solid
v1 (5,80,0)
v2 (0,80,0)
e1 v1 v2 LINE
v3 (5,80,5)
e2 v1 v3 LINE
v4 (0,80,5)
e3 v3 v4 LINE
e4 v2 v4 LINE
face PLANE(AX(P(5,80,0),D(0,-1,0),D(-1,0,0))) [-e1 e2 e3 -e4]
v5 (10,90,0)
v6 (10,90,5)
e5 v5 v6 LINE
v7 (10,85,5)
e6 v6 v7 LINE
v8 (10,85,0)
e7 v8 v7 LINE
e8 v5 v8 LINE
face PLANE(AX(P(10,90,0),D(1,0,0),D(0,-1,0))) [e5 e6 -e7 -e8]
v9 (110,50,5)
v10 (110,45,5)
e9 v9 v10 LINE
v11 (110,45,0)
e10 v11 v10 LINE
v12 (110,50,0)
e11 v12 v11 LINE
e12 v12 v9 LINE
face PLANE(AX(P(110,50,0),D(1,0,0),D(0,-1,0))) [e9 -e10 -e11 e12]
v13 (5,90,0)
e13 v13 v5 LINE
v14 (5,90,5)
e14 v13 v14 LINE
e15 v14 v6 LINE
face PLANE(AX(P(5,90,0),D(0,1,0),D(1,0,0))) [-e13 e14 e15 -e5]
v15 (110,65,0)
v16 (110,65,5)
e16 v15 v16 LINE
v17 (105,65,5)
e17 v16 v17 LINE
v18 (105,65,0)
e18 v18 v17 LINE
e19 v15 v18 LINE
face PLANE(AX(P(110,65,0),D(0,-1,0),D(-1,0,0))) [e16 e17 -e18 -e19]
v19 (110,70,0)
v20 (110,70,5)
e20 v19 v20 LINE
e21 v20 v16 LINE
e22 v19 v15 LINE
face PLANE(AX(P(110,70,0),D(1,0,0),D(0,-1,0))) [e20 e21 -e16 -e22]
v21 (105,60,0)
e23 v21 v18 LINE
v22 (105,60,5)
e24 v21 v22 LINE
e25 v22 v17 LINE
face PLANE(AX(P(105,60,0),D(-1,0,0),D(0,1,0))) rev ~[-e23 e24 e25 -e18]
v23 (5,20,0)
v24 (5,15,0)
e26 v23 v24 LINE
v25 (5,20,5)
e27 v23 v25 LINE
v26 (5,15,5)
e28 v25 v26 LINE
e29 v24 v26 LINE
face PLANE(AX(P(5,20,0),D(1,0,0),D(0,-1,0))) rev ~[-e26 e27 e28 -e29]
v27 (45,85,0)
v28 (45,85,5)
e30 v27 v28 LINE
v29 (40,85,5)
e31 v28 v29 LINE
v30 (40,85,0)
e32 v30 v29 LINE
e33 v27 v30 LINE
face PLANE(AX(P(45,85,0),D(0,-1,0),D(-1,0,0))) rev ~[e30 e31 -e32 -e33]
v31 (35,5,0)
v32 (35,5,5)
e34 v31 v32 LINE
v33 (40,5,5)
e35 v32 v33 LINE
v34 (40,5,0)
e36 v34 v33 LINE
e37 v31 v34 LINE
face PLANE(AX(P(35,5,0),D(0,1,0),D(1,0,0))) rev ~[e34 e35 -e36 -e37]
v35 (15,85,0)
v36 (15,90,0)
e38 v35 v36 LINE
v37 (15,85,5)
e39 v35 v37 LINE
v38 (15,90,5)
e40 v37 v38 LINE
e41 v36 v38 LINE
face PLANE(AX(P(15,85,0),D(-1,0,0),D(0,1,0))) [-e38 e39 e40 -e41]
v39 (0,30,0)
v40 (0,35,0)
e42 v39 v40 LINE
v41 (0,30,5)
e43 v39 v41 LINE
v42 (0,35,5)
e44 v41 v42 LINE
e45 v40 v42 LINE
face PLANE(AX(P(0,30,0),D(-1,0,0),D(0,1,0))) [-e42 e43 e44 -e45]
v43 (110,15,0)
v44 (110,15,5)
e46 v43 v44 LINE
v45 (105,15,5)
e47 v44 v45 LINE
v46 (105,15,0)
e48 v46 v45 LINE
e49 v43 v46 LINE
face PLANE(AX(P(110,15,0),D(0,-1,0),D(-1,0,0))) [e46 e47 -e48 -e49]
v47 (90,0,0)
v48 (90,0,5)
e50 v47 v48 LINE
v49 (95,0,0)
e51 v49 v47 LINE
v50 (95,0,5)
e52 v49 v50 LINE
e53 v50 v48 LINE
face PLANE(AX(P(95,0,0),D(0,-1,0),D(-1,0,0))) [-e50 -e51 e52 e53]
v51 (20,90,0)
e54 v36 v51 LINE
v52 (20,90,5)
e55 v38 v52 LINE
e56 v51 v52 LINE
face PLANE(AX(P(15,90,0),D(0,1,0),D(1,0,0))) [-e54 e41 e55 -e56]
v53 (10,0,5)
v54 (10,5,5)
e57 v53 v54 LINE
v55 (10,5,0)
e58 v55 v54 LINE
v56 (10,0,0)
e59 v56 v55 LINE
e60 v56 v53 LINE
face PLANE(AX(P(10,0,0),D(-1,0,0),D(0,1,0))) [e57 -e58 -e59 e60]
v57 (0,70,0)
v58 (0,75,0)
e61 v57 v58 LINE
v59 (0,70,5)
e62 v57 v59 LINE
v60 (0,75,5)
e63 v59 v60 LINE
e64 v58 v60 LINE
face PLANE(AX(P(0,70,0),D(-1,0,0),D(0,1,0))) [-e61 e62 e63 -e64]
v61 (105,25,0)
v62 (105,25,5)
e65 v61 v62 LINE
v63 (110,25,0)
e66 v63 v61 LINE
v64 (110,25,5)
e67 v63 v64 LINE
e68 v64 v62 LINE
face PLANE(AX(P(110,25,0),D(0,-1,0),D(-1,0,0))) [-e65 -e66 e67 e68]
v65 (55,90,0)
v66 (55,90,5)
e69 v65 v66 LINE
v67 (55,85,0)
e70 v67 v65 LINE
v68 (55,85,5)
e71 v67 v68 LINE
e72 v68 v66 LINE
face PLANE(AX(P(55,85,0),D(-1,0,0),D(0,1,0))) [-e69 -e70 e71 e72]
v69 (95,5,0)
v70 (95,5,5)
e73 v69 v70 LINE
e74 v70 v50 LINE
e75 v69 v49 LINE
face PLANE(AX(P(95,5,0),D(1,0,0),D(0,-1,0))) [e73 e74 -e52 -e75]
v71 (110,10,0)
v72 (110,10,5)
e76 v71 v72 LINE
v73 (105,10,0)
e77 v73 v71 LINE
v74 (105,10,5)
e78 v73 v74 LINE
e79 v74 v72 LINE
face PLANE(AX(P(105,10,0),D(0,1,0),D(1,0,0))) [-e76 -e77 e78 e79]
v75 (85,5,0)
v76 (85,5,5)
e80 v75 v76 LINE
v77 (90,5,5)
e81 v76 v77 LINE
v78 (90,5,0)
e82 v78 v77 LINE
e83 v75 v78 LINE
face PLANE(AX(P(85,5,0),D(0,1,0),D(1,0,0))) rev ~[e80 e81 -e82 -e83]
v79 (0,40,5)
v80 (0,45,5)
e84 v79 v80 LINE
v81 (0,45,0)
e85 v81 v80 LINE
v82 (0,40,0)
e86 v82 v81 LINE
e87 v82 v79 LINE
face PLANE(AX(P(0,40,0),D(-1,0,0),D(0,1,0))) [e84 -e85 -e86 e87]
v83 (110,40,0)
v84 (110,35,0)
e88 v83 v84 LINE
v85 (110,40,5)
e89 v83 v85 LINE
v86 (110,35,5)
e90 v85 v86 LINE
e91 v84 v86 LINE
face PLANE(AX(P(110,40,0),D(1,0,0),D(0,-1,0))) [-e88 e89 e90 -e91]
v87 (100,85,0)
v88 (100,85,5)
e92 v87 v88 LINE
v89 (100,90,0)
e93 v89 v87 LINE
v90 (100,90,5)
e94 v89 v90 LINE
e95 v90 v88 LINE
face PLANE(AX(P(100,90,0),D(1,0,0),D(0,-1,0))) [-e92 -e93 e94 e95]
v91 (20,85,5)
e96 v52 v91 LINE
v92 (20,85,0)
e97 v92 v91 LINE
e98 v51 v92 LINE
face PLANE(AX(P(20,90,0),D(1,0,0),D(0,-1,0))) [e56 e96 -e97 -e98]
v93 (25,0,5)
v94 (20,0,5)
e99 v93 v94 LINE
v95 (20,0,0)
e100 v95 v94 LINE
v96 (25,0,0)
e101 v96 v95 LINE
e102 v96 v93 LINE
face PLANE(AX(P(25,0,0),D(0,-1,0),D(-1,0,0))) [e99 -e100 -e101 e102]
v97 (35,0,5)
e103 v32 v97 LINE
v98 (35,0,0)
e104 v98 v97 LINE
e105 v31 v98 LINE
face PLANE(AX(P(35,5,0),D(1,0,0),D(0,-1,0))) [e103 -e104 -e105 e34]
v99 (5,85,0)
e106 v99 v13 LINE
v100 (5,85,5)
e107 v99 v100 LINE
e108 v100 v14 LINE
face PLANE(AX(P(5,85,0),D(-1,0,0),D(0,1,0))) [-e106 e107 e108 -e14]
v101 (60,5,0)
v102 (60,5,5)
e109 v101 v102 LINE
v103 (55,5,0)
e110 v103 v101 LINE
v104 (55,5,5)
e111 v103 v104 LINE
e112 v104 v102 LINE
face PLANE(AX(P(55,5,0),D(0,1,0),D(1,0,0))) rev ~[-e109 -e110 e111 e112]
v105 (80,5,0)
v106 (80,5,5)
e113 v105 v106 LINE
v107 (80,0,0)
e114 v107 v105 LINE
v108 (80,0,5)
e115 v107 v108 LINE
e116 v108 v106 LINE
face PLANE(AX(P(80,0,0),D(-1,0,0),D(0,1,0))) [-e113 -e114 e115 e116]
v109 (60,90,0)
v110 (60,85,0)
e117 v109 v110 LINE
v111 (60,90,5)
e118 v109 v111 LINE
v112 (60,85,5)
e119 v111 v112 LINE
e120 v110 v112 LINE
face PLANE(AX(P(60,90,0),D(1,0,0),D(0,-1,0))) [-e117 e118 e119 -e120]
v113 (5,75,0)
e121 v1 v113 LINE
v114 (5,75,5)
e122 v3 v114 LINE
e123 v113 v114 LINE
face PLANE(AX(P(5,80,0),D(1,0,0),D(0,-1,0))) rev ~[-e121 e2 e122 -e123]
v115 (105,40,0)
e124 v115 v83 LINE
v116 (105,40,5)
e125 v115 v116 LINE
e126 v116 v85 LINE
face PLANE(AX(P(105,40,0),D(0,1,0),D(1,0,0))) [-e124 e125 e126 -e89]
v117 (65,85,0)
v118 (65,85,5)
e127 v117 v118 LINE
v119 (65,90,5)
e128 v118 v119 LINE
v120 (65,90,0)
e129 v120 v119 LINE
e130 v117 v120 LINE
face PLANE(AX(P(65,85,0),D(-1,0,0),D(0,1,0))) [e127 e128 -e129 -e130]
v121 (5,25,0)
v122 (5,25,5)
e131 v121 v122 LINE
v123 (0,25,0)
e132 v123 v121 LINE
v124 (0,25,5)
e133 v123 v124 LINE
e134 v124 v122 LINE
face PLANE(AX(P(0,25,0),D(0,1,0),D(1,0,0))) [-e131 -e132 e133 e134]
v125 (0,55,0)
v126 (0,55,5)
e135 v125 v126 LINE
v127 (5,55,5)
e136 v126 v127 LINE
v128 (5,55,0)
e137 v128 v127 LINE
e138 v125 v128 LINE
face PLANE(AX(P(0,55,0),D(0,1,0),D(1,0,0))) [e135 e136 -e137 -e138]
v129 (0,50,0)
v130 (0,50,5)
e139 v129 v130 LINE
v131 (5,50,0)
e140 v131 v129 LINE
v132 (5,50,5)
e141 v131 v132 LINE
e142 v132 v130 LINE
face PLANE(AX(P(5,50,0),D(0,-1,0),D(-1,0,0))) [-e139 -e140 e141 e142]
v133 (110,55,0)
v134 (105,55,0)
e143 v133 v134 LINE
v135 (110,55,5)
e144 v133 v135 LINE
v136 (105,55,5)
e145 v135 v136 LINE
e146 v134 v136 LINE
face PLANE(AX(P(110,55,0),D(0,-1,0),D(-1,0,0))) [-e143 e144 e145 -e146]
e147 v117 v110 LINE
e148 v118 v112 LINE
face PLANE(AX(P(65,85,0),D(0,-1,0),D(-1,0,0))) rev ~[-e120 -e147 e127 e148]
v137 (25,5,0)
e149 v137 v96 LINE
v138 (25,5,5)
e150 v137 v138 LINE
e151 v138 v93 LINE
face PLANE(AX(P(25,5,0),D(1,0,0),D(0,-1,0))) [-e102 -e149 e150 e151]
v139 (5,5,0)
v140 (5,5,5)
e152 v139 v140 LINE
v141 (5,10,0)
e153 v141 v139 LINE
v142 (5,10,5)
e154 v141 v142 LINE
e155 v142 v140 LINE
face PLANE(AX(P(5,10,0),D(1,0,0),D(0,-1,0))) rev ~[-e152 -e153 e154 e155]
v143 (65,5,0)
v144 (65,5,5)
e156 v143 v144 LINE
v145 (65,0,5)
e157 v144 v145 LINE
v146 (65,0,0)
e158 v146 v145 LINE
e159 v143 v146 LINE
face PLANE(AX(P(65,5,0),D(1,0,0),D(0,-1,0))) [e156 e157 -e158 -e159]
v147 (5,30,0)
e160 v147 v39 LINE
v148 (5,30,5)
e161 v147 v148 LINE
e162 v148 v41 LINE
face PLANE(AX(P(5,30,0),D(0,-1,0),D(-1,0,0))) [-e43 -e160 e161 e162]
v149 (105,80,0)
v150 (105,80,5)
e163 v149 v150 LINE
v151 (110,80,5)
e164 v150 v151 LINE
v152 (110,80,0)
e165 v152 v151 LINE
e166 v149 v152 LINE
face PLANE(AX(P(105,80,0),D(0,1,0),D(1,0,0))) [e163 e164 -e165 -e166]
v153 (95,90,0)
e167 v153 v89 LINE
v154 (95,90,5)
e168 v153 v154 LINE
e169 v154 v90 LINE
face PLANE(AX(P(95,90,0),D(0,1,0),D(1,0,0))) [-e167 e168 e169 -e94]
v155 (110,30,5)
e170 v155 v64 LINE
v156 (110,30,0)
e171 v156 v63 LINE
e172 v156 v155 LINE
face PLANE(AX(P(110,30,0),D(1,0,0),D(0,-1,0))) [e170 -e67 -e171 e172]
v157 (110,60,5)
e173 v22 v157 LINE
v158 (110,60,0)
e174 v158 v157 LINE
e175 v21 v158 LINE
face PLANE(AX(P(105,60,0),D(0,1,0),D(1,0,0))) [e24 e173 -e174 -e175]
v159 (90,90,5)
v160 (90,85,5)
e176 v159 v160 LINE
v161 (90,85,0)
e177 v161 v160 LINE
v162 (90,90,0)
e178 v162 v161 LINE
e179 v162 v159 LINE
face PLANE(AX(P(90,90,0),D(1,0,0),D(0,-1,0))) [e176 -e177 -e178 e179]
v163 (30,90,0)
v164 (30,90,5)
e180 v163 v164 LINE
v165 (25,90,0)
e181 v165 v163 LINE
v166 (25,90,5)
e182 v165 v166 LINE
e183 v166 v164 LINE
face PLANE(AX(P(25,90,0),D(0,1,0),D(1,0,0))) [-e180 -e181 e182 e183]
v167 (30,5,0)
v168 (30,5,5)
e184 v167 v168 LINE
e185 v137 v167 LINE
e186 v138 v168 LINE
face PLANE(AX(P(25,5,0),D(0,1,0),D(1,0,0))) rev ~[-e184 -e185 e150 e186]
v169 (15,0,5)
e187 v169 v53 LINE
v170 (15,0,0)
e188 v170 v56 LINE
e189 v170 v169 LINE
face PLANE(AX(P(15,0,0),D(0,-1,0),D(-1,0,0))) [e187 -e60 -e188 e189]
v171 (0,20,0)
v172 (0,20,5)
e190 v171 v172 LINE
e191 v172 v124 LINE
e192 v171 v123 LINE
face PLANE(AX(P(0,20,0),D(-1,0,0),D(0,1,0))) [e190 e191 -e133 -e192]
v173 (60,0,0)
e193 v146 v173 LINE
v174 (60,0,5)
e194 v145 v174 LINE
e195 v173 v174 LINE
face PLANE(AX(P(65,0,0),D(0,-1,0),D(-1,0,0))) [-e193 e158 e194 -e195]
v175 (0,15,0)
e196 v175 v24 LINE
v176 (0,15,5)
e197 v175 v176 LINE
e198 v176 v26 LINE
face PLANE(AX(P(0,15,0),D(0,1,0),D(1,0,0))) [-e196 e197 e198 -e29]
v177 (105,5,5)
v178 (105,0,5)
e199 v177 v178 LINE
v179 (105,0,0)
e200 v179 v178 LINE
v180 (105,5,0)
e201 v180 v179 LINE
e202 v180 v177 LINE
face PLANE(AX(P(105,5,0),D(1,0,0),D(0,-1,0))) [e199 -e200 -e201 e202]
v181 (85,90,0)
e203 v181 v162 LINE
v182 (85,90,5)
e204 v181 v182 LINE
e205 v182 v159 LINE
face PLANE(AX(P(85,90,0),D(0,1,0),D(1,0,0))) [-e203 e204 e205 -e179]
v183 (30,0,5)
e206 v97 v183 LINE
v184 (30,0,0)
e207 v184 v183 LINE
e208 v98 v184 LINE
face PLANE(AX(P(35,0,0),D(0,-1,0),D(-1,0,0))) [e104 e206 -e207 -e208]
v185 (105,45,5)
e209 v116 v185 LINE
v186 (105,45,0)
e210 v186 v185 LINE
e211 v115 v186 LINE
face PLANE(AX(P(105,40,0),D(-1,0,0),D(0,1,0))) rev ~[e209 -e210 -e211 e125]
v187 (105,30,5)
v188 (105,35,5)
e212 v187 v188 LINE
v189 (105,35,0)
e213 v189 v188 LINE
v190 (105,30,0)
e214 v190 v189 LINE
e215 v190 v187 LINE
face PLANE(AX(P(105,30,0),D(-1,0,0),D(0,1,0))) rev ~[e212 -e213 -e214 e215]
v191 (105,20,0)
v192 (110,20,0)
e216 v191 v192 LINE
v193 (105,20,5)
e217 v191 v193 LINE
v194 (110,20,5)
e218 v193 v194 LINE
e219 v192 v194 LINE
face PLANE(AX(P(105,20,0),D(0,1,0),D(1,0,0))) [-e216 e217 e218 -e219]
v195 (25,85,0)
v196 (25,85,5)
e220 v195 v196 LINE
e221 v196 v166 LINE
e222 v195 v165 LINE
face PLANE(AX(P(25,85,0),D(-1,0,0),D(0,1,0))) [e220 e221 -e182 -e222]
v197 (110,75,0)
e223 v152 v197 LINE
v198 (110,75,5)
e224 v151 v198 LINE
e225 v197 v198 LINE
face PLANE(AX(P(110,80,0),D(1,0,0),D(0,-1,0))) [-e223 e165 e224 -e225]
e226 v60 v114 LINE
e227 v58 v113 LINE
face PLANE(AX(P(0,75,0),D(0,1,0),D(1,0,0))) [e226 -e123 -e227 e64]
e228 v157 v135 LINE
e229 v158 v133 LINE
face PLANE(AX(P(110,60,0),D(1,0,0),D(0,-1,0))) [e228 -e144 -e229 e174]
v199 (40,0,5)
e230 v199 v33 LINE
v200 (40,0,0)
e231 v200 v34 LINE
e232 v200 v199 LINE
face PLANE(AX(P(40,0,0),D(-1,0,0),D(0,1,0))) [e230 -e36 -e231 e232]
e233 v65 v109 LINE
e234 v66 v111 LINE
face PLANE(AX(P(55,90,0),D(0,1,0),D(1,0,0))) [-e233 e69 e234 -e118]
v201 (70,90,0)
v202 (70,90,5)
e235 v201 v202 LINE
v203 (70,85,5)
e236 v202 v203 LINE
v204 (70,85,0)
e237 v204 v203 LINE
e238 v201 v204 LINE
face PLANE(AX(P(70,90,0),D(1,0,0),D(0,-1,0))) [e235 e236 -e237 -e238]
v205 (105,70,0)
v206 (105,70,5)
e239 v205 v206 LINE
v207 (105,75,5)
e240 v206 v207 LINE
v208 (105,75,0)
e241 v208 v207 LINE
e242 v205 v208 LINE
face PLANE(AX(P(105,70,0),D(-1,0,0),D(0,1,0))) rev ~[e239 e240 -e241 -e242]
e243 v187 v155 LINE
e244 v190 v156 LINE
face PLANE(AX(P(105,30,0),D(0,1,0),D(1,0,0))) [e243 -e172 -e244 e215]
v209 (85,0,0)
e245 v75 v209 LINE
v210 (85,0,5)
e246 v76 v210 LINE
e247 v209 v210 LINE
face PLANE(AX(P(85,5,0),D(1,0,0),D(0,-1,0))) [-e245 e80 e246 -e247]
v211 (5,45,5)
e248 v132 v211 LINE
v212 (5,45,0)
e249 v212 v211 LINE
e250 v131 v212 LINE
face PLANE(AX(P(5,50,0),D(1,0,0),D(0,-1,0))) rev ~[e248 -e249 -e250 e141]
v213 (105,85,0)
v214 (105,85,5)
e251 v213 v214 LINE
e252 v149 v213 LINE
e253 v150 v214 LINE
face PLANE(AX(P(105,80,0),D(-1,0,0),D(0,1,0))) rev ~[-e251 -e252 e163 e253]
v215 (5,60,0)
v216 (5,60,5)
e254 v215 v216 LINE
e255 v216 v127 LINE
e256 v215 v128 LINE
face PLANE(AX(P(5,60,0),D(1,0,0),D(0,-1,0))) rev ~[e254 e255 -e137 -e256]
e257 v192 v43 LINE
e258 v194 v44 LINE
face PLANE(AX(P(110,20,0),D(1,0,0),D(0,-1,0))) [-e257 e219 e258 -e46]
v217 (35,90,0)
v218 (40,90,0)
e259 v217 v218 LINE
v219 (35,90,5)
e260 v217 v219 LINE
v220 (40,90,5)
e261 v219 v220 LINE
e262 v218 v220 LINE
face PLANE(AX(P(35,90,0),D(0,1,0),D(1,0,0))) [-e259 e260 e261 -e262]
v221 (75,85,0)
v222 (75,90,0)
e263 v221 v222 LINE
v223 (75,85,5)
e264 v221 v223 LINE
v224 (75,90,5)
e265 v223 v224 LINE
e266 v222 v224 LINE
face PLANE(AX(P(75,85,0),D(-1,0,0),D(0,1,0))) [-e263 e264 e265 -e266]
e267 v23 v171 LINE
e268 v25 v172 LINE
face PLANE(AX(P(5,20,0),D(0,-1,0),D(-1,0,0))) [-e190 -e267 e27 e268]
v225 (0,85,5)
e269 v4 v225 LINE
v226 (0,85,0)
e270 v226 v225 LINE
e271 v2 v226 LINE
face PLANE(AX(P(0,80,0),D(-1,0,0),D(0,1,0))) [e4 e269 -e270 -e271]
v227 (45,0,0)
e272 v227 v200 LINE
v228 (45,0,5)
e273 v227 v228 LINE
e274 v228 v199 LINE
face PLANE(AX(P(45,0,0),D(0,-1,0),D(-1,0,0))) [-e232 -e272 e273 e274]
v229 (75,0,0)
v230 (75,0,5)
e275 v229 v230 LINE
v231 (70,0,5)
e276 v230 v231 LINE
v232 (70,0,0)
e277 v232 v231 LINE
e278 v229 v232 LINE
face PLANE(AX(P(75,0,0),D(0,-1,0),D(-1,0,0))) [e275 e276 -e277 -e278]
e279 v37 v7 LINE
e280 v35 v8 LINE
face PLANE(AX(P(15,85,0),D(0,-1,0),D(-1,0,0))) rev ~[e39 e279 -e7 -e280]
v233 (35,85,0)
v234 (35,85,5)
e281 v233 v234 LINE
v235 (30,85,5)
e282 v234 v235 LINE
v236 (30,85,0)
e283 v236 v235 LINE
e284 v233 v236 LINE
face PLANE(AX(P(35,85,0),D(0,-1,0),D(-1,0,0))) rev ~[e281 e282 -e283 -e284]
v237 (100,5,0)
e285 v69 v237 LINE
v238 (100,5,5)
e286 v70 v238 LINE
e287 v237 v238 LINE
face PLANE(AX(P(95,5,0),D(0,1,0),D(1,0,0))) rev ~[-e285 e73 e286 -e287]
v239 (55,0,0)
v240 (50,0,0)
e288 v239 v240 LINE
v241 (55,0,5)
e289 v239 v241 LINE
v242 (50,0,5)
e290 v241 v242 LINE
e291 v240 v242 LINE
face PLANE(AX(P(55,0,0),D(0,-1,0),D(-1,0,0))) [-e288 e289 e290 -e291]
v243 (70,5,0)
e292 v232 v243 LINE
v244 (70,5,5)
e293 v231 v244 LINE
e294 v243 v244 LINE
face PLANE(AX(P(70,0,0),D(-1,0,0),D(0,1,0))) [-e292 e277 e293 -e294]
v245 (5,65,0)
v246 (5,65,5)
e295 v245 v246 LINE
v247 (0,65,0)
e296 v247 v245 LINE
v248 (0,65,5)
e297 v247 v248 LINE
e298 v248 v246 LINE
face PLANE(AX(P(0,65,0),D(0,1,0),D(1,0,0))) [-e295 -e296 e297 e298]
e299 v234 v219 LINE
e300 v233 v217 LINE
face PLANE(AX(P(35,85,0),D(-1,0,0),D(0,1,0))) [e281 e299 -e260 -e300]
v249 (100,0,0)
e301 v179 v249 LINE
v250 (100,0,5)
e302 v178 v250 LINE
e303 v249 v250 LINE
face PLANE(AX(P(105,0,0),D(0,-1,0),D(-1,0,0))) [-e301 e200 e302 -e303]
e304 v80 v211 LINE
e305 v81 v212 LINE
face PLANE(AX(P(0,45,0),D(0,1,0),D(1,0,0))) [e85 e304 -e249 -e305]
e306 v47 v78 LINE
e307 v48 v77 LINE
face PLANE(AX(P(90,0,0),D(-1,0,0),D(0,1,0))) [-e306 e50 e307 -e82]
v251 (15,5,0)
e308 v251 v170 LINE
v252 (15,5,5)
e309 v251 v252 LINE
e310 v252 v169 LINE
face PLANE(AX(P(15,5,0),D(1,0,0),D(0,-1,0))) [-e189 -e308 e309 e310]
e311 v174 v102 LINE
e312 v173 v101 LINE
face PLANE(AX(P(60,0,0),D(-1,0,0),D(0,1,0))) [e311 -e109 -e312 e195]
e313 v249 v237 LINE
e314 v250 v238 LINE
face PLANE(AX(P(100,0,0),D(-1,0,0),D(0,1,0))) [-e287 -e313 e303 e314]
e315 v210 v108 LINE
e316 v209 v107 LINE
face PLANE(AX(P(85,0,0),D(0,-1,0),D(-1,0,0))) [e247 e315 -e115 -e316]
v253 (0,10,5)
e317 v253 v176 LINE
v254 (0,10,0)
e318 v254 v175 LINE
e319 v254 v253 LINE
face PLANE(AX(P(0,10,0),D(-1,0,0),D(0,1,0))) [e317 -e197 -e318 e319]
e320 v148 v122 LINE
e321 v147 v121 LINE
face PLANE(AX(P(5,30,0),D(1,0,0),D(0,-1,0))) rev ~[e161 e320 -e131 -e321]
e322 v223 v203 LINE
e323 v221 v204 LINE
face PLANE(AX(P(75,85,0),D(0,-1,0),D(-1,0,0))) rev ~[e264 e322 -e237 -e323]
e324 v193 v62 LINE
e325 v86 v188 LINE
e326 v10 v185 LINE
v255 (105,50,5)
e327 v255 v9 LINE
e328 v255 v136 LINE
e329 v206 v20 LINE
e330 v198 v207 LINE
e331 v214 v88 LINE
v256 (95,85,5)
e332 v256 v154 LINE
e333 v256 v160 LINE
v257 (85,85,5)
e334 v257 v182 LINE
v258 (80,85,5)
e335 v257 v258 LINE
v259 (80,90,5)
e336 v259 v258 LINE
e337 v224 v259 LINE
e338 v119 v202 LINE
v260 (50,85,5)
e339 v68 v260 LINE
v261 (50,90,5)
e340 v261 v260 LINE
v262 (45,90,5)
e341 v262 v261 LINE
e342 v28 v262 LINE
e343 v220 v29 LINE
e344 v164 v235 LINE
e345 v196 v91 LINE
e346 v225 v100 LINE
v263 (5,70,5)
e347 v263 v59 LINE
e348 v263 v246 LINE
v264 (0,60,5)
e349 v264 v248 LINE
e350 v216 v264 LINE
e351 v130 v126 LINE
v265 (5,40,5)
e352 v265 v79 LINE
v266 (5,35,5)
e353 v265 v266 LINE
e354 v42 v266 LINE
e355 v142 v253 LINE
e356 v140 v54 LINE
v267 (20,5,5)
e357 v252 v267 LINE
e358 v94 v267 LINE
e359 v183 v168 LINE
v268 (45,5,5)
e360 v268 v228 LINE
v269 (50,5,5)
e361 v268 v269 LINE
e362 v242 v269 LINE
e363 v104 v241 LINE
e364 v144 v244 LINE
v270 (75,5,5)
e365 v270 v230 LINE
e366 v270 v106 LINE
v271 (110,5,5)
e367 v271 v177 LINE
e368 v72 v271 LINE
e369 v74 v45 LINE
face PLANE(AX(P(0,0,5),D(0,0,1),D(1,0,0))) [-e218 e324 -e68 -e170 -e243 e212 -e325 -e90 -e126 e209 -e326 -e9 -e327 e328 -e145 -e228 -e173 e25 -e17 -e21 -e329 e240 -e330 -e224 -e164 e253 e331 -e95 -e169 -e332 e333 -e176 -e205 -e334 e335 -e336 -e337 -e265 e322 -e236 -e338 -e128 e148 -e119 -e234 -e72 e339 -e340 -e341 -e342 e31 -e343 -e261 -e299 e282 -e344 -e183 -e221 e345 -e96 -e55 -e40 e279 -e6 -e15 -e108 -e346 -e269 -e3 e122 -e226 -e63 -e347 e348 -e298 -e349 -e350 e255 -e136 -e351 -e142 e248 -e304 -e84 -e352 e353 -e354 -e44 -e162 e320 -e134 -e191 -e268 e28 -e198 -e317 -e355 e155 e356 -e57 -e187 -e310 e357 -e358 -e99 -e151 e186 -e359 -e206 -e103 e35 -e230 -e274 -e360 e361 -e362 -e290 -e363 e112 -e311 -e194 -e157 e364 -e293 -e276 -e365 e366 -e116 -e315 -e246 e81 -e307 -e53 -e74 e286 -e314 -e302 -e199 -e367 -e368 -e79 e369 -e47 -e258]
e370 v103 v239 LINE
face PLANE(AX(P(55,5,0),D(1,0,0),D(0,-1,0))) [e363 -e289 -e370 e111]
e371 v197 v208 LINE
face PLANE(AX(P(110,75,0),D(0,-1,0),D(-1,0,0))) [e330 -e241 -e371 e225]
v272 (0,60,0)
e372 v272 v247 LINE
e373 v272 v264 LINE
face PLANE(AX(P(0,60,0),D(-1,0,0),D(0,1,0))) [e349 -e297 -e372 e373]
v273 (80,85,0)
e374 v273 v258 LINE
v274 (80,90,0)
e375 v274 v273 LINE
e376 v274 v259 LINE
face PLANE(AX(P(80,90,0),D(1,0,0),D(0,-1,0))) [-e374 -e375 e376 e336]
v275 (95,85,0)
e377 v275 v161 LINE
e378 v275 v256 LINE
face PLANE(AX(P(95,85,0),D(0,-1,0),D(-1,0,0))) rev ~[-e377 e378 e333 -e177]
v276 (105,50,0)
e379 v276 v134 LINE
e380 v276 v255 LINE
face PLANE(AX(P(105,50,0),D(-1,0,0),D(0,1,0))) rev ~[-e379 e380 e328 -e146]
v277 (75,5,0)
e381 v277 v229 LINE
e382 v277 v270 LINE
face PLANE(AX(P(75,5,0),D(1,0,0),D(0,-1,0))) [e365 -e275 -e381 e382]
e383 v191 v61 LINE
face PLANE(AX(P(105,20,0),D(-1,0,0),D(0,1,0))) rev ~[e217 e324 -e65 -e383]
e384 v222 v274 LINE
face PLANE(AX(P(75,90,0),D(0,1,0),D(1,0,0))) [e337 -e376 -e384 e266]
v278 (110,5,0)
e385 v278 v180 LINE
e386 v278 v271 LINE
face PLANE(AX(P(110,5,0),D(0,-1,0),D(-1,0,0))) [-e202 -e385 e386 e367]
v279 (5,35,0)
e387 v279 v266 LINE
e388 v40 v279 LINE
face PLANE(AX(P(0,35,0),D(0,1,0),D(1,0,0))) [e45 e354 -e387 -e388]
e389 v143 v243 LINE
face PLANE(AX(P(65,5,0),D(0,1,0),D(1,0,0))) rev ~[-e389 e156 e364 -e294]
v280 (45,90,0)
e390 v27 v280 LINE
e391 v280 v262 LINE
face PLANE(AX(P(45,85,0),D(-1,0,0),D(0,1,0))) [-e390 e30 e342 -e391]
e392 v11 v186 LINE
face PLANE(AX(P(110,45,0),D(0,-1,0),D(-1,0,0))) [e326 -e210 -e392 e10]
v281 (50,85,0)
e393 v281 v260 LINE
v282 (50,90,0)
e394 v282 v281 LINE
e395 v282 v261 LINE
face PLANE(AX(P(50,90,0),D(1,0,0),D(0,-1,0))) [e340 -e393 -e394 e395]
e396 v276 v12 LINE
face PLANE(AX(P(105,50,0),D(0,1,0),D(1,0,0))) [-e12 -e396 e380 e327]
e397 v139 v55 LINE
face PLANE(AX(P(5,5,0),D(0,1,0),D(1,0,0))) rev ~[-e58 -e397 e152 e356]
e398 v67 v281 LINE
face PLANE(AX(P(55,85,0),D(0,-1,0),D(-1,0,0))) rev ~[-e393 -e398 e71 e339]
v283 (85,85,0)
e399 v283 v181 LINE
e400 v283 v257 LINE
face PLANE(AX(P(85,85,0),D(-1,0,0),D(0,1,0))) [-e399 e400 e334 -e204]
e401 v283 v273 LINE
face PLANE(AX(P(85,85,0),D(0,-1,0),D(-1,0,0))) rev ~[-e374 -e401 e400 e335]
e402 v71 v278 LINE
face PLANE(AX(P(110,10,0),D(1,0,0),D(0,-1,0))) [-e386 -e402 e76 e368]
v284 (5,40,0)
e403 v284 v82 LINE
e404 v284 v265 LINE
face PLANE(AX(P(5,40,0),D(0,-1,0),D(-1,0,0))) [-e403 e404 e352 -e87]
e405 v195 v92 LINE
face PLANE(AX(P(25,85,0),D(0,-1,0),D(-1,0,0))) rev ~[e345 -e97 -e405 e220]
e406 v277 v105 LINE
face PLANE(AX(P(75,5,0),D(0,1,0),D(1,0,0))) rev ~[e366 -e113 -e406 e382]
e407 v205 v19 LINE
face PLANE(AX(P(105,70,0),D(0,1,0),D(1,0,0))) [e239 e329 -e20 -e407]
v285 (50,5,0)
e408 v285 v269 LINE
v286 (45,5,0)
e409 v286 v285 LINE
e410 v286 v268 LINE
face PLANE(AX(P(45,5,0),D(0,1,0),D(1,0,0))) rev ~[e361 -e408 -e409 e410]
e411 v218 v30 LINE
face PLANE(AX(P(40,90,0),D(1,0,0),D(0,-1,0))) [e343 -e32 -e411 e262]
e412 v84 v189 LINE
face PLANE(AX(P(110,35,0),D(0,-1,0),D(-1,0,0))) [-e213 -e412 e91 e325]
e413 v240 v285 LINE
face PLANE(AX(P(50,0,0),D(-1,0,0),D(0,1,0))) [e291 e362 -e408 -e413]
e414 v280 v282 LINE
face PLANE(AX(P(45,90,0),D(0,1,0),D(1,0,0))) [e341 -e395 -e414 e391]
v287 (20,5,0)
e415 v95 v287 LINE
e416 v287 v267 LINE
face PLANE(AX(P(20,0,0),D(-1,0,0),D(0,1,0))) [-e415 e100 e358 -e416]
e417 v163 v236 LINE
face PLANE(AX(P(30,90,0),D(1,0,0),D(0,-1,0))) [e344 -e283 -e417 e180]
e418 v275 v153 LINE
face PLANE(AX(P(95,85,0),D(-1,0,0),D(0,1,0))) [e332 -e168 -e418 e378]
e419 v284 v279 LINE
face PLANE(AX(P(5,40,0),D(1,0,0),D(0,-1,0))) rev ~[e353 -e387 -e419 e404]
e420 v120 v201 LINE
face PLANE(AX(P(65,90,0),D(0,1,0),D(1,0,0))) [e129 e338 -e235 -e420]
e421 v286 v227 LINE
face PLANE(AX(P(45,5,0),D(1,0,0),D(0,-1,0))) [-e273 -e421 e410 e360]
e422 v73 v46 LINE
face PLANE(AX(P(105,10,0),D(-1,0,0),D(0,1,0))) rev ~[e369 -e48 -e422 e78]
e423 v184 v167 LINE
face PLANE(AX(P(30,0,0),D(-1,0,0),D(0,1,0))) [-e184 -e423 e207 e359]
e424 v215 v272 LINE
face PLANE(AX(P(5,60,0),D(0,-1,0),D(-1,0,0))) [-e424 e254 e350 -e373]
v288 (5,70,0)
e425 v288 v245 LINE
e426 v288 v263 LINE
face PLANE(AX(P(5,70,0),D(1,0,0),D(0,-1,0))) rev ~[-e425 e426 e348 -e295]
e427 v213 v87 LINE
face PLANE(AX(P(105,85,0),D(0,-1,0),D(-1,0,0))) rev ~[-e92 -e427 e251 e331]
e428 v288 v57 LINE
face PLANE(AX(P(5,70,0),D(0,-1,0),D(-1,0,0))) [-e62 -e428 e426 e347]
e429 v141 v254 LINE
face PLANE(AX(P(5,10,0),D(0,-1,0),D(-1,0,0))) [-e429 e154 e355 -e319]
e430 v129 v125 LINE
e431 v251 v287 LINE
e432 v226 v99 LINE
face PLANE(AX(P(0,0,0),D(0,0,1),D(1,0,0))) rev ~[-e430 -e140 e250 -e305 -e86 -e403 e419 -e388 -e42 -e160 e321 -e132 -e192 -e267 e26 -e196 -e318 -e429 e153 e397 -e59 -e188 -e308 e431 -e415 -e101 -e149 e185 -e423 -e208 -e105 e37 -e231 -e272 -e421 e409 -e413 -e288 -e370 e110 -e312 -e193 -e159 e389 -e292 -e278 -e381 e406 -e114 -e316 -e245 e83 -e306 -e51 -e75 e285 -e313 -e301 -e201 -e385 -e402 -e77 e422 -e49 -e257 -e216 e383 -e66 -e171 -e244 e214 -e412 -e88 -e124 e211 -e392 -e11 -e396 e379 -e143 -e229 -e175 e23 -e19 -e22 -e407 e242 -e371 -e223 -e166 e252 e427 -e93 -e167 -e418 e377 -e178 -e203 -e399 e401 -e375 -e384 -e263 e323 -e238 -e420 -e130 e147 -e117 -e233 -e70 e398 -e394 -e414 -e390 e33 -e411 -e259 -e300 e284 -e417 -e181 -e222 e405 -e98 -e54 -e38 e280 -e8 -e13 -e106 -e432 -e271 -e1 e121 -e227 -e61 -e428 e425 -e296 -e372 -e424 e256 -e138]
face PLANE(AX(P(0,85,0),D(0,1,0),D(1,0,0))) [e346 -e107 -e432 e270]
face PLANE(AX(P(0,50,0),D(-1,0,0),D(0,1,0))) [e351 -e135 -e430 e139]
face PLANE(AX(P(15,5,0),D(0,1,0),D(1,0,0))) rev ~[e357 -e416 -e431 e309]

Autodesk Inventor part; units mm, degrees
ref_plane "YZ Plane" through (0, 0, 0) normal (1, 0, 0) x (0, 1, 0)
ref_plane "XZ Plane" through (0, 0, 0) normal (0, 1, 0) x (-1, 0, 0)
ref_plane "XY Plane" through (0, 0, 0) normal (0, 0, 1) x (1, 0, 0)
sketch "Sketch1" plane through (0, 0, 0) normal (0, 0, 1) x (1, 0, 0)
  line L0 (5, 5) -> (105, 5)
  line L1 (105, 5) -> (105, 85)
  line L2 (105, 85) -> (5, 85)
  line L3 (5, 85) -> (5, 5)
  line L4 (0, 5) -> (5, 5)
  line L5 (5, 5) -> (5, 0)
  line L6 (5, 0) -> (0, 0)
  line L7 (0, 0) -> (0, 5)
  line L8 (0, 15) -> (5, 15)
  line L9 (5, 15) -> (5, 10)
  line L10 (5, 10) -> (0, 10)
  line L11 (0, 10) -> (0, 15)
  line L12 (0, 25) -> (5, 25)
  line L13 (5, 25) -> (5, 20)
  line L14 (5, 20) -> (0, 20)
  line L15 (0, 20) -> (0, 25)
  line L16 (0, 35) -> (5, 35)
  line L17 (5, 35) -> (5, 30)
  line L18 (5, 30) -> (0, 30)
  line L19 (0, 30) -> (0, 35)
  line L20 (0, 45) -> (5, 45)
  line L21 (5, 45) -> (5, 40)
  line L22 (5, 40) -> (0, 40)
  line L23 (0, 40) -> (0, 45)
  line L24 (0, 55) -> (5, 55)
  line L25 (5, 55) -> (5, 50)
  line L26 (5, 50) -> (0, 50)
  line L27 (0, 50) -> (0, 55)
  line L28 (0, 65) -> (5, 65)
  line L29 (5, 65) -> (5, 60)
  line L30 (5, 60) -> (0, 60)
  line L31 (0, 60) -> (0, 65)
  line L32 (0, 75) -> (5, 75)
  line L33 (5, 75) -> (5, 70)
  line L34 (5, 70) -> (0, 70)
  line L35 (0, 70) -> (0, 75)
  line L36 (0, 85) -> (5, 85)
  line L37 (5, 85) -> (5, 80)
  line L38 (5, 80) -> (0, 80)
  line L39 (0, 80) -> (0, 85)
  line L40 (10, 5) -> (15, 5)
  line L41 (15, 5) -> (15, 0)
  line L42 (15, 0) -> (10, 0)
  line L43 (10, 0) -> (10, 5)
  line L44 (20, 5) -> (25, 5)
  line L45 (25, 5) -> (25, 0)
  line L46 (25, 0) -> (20, 0)
  line L47 (20, 0) -> (20, 5)
  line L48 (30, 5) -> (35, 5)
  line L49 (35, 5) -> (35, 0)
  line L50 (35, 0) -> (30, 0)
  line L51 (30, 0) -> (30, 5)
  line L52 (40, 5) -> (45, 5)
  line L53 (45, 5) -> (45, 0)
  line L54 (45, 0) -> (40, 0)
  line L55 (40, 0) -> (40, 5)
  line L56 (50, 5) -> (55, 5)
  line L57 (55, 5) -> (55, 0)
  line L58 (55, 0) -> (50, 0)
  line L59 (50, 0) -> (50, 5)
  line L60 (60, 5) -> (65, 5)
  line L61 (65, 5) -> (65, 0)
  line L62 (65, 0) -> (60, 0)
  line L63 (60, 0) -> (60, 5)
  line L64 (70, 5) -> (75, 5)
  line L65 (75, 5) -> (75, 0)
  line L66 (75, 0) -> (70, 0)
  line L67 (70, 0) -> (70, 5)
  line L68 (80, 5) -> (85, 5)
  line L69 (85, 5) -> (85, 0)
  line L70 (85, 0) -> (80, 0)
  line L71 (80, 0) -> (80, 5)
  line L72 (90, 5) -> (95, 5)
  line L73 (95, 5) -> (95, 0)
  line L74 (95, 0) -> (90, 0)
  line L75 (90, 0) -> (90, 5)
  line L76 (100, 5) -> (105, 5)
  line L77 (105, 5) -> (105, 0)
  line L78 (105, 0) -> (100, 0)
  line L79 (100, 0) -> (100, 5)
  line L80 (105, 90) -> (110, 90)
  line L81 (110, 90) -> (110, 85)
  line L82 (110, 85) -> (105, 85)
  line L83 (105, 85) -> (105, 90)
  line L84 (100, 85) -> (95, 85)
  line L85 (95, 85) -> (95, 90)
  line L86 (95, 90) -> (100, 90)
  line L87 (100, 90) -> (100, 85)
  line L88 (90, 85) -> (85, 85)
  line L89 (85, 85) -> (85, 90)
  line L90 (85, 90) -> (90, 90)
  line L91 (90, 90) -> (90, 85)
  line L92 (80, 85) -> (75, 85)
  line L93 (75, 85) -> (75, 90)
  line L94 (75, 90) -> (80, 90)
  line L95 (80, 90) -> (80, 85)
  line L96 (70, 85) -> (65, 85)
  line L97 (65, 85) -> (65, 90)
  line L98 (65, 90) -> (70, 90)
  line L99 (70, 90) -> (70, 85)
  line L100 (60, 85) -> (55, 85)
  line L101 (55, 85) -> (55, 90)
  line L102 (55, 90) -> (60, 90)
  line L103 (60, 90) -> (60, 85)
  line L104 (50, 85) -> (45, 85)
  line L105 (45, 85) -> (45, 90)
  line L106 (45, 90) -> (50, 90)
  line L107 (50, 90) -> (50, 85)
  line L108 (40, 85) -> (35, 85)
  line L109 (35, 85) -> (35, 90)
  line L110 (35, 90) -> (40, 90)
  line L111 (40, 90) -> (40, 85)
  line L112 (30, 85) -> (25, 85)
  line L113 (25, 85) -> (25, 90)
  line L114 (25, 90) -> (30, 90)
  line L115 (30, 90) -> (30, 85)
  line L116 (20, 85) -> (15, 85)
  line L117 (15, 85) -> (15, 90)
  line L118 (15, 90) -> (20, 90)
  line L119 (20, 90) -> (20, 85)
  line L120 (10, 85) -> (5, 85)
  line L121 (5, 85) -> (5, 90)
  line L122 (5, 90) -> (10, 90)
  line L123 (10, 90) -> (10, 85)
  line L124 (110, 75) -> (105, 75)
  line L125 (105, 80) -> (110, 80)
  line L126 (110, 80) -> (110, 75)
  line L127 (105, 75) -> (105, 80)
  line L128 (110, 65) -> (105, 65)
  line L129 (105, 70) -> (110, 70)
  line L130 (110, 70) -> (110, 65)
  line L131 (105, 65) -> (105, 70)
  line L132 (110, 55) -> (105, 55)
  line L133 (105, 60) -> (110, 60)
  line L134 (110, 60) -> (110, 55)
  line L135 (105, 55) -> (105, 60)
  line L136 (110, 45) -> (105, 45)
  line L137 (105, 50) -> (110, 50)
  line L138 (110, 50) -> (110, 45)
  line L139 (105, 45) -> (105, 50)
  line L140 (110, 35) -> (105, 35)
  line L141 (105, 40) -> (110, 40)
  line L142 (110, 40) -> (110, 35)
  line L143 (105, 35) -> (105, 40)
  line L144 (110, 25) -> (105, 25)
  line L145 (105, 30) -> (110, 30)
  line L146 (110, 30) -> (110, 25)
  line L147 (105, 25) -> (105, 30)
  line L148 (110, 15) -> (105, 15)
  line L149 (105, 20) -> (110, 20)
  line L150 (110, 20) -> (110, 15)
  line L151 (105, 15) -> (105, 20)
  line L152 (110, 5) -> (105, 5)
  line L153 (105, 10) -> (110, 10)
  line L154 (110, 10) -> (110, 5)
  line L155 (105, 5) -> (105, 10)
  dimension "d4" = 10
  dimension "d11" = 10
  dimension "d18" = 10
  dimension "d25" = 10
extrude "Extrusion1" add sketch "Sketch1" along normal blind 5 contours L3 L2 L1 L0 | L0 L41 L42 L43 | L10 L11 L8 L3 | L0 L45 L46 L47 | L14 L15 L12 L3 | L0 L49 L50 L51 | L18 L19 L16 L3 | L0 L53 L54 L55 | L22 L23 L20 L3 | L0 L57 L58 L59 | L26 L27 L24 L3 | L0 L61 L62 L63 | L30 L31 L28 L3 | L0 L65 L66 L67 | L34 L35 L32 L3 | L0 L69 L70 L71 | L38 L39 L36 L3 | L121 L122 L123 L2 | L0 L73 L74 L75 | L117 L118 L119 L2 | L0 L77 L78 L79 | L1 L153 L154 L152 | L113 L114 L115 L2 | L1 L149 L150 L148 | L109 L110 L111 L2 | L1 L145 L146 L144 | L105 L106 L107 L2 | L1 L141 L142 L140 | L101 L102 L103 L2 | L1 L137 L138 L136 | L97 L98 L99 L2 | L1 L133 L134 L132 | L93 L94 L95 L2 | L1 L129 L130 L128 | L89 L90 L91 L2 | L1 L125 L126 L124 | L85 L86 L87 L2
properties part number "bottomside"
